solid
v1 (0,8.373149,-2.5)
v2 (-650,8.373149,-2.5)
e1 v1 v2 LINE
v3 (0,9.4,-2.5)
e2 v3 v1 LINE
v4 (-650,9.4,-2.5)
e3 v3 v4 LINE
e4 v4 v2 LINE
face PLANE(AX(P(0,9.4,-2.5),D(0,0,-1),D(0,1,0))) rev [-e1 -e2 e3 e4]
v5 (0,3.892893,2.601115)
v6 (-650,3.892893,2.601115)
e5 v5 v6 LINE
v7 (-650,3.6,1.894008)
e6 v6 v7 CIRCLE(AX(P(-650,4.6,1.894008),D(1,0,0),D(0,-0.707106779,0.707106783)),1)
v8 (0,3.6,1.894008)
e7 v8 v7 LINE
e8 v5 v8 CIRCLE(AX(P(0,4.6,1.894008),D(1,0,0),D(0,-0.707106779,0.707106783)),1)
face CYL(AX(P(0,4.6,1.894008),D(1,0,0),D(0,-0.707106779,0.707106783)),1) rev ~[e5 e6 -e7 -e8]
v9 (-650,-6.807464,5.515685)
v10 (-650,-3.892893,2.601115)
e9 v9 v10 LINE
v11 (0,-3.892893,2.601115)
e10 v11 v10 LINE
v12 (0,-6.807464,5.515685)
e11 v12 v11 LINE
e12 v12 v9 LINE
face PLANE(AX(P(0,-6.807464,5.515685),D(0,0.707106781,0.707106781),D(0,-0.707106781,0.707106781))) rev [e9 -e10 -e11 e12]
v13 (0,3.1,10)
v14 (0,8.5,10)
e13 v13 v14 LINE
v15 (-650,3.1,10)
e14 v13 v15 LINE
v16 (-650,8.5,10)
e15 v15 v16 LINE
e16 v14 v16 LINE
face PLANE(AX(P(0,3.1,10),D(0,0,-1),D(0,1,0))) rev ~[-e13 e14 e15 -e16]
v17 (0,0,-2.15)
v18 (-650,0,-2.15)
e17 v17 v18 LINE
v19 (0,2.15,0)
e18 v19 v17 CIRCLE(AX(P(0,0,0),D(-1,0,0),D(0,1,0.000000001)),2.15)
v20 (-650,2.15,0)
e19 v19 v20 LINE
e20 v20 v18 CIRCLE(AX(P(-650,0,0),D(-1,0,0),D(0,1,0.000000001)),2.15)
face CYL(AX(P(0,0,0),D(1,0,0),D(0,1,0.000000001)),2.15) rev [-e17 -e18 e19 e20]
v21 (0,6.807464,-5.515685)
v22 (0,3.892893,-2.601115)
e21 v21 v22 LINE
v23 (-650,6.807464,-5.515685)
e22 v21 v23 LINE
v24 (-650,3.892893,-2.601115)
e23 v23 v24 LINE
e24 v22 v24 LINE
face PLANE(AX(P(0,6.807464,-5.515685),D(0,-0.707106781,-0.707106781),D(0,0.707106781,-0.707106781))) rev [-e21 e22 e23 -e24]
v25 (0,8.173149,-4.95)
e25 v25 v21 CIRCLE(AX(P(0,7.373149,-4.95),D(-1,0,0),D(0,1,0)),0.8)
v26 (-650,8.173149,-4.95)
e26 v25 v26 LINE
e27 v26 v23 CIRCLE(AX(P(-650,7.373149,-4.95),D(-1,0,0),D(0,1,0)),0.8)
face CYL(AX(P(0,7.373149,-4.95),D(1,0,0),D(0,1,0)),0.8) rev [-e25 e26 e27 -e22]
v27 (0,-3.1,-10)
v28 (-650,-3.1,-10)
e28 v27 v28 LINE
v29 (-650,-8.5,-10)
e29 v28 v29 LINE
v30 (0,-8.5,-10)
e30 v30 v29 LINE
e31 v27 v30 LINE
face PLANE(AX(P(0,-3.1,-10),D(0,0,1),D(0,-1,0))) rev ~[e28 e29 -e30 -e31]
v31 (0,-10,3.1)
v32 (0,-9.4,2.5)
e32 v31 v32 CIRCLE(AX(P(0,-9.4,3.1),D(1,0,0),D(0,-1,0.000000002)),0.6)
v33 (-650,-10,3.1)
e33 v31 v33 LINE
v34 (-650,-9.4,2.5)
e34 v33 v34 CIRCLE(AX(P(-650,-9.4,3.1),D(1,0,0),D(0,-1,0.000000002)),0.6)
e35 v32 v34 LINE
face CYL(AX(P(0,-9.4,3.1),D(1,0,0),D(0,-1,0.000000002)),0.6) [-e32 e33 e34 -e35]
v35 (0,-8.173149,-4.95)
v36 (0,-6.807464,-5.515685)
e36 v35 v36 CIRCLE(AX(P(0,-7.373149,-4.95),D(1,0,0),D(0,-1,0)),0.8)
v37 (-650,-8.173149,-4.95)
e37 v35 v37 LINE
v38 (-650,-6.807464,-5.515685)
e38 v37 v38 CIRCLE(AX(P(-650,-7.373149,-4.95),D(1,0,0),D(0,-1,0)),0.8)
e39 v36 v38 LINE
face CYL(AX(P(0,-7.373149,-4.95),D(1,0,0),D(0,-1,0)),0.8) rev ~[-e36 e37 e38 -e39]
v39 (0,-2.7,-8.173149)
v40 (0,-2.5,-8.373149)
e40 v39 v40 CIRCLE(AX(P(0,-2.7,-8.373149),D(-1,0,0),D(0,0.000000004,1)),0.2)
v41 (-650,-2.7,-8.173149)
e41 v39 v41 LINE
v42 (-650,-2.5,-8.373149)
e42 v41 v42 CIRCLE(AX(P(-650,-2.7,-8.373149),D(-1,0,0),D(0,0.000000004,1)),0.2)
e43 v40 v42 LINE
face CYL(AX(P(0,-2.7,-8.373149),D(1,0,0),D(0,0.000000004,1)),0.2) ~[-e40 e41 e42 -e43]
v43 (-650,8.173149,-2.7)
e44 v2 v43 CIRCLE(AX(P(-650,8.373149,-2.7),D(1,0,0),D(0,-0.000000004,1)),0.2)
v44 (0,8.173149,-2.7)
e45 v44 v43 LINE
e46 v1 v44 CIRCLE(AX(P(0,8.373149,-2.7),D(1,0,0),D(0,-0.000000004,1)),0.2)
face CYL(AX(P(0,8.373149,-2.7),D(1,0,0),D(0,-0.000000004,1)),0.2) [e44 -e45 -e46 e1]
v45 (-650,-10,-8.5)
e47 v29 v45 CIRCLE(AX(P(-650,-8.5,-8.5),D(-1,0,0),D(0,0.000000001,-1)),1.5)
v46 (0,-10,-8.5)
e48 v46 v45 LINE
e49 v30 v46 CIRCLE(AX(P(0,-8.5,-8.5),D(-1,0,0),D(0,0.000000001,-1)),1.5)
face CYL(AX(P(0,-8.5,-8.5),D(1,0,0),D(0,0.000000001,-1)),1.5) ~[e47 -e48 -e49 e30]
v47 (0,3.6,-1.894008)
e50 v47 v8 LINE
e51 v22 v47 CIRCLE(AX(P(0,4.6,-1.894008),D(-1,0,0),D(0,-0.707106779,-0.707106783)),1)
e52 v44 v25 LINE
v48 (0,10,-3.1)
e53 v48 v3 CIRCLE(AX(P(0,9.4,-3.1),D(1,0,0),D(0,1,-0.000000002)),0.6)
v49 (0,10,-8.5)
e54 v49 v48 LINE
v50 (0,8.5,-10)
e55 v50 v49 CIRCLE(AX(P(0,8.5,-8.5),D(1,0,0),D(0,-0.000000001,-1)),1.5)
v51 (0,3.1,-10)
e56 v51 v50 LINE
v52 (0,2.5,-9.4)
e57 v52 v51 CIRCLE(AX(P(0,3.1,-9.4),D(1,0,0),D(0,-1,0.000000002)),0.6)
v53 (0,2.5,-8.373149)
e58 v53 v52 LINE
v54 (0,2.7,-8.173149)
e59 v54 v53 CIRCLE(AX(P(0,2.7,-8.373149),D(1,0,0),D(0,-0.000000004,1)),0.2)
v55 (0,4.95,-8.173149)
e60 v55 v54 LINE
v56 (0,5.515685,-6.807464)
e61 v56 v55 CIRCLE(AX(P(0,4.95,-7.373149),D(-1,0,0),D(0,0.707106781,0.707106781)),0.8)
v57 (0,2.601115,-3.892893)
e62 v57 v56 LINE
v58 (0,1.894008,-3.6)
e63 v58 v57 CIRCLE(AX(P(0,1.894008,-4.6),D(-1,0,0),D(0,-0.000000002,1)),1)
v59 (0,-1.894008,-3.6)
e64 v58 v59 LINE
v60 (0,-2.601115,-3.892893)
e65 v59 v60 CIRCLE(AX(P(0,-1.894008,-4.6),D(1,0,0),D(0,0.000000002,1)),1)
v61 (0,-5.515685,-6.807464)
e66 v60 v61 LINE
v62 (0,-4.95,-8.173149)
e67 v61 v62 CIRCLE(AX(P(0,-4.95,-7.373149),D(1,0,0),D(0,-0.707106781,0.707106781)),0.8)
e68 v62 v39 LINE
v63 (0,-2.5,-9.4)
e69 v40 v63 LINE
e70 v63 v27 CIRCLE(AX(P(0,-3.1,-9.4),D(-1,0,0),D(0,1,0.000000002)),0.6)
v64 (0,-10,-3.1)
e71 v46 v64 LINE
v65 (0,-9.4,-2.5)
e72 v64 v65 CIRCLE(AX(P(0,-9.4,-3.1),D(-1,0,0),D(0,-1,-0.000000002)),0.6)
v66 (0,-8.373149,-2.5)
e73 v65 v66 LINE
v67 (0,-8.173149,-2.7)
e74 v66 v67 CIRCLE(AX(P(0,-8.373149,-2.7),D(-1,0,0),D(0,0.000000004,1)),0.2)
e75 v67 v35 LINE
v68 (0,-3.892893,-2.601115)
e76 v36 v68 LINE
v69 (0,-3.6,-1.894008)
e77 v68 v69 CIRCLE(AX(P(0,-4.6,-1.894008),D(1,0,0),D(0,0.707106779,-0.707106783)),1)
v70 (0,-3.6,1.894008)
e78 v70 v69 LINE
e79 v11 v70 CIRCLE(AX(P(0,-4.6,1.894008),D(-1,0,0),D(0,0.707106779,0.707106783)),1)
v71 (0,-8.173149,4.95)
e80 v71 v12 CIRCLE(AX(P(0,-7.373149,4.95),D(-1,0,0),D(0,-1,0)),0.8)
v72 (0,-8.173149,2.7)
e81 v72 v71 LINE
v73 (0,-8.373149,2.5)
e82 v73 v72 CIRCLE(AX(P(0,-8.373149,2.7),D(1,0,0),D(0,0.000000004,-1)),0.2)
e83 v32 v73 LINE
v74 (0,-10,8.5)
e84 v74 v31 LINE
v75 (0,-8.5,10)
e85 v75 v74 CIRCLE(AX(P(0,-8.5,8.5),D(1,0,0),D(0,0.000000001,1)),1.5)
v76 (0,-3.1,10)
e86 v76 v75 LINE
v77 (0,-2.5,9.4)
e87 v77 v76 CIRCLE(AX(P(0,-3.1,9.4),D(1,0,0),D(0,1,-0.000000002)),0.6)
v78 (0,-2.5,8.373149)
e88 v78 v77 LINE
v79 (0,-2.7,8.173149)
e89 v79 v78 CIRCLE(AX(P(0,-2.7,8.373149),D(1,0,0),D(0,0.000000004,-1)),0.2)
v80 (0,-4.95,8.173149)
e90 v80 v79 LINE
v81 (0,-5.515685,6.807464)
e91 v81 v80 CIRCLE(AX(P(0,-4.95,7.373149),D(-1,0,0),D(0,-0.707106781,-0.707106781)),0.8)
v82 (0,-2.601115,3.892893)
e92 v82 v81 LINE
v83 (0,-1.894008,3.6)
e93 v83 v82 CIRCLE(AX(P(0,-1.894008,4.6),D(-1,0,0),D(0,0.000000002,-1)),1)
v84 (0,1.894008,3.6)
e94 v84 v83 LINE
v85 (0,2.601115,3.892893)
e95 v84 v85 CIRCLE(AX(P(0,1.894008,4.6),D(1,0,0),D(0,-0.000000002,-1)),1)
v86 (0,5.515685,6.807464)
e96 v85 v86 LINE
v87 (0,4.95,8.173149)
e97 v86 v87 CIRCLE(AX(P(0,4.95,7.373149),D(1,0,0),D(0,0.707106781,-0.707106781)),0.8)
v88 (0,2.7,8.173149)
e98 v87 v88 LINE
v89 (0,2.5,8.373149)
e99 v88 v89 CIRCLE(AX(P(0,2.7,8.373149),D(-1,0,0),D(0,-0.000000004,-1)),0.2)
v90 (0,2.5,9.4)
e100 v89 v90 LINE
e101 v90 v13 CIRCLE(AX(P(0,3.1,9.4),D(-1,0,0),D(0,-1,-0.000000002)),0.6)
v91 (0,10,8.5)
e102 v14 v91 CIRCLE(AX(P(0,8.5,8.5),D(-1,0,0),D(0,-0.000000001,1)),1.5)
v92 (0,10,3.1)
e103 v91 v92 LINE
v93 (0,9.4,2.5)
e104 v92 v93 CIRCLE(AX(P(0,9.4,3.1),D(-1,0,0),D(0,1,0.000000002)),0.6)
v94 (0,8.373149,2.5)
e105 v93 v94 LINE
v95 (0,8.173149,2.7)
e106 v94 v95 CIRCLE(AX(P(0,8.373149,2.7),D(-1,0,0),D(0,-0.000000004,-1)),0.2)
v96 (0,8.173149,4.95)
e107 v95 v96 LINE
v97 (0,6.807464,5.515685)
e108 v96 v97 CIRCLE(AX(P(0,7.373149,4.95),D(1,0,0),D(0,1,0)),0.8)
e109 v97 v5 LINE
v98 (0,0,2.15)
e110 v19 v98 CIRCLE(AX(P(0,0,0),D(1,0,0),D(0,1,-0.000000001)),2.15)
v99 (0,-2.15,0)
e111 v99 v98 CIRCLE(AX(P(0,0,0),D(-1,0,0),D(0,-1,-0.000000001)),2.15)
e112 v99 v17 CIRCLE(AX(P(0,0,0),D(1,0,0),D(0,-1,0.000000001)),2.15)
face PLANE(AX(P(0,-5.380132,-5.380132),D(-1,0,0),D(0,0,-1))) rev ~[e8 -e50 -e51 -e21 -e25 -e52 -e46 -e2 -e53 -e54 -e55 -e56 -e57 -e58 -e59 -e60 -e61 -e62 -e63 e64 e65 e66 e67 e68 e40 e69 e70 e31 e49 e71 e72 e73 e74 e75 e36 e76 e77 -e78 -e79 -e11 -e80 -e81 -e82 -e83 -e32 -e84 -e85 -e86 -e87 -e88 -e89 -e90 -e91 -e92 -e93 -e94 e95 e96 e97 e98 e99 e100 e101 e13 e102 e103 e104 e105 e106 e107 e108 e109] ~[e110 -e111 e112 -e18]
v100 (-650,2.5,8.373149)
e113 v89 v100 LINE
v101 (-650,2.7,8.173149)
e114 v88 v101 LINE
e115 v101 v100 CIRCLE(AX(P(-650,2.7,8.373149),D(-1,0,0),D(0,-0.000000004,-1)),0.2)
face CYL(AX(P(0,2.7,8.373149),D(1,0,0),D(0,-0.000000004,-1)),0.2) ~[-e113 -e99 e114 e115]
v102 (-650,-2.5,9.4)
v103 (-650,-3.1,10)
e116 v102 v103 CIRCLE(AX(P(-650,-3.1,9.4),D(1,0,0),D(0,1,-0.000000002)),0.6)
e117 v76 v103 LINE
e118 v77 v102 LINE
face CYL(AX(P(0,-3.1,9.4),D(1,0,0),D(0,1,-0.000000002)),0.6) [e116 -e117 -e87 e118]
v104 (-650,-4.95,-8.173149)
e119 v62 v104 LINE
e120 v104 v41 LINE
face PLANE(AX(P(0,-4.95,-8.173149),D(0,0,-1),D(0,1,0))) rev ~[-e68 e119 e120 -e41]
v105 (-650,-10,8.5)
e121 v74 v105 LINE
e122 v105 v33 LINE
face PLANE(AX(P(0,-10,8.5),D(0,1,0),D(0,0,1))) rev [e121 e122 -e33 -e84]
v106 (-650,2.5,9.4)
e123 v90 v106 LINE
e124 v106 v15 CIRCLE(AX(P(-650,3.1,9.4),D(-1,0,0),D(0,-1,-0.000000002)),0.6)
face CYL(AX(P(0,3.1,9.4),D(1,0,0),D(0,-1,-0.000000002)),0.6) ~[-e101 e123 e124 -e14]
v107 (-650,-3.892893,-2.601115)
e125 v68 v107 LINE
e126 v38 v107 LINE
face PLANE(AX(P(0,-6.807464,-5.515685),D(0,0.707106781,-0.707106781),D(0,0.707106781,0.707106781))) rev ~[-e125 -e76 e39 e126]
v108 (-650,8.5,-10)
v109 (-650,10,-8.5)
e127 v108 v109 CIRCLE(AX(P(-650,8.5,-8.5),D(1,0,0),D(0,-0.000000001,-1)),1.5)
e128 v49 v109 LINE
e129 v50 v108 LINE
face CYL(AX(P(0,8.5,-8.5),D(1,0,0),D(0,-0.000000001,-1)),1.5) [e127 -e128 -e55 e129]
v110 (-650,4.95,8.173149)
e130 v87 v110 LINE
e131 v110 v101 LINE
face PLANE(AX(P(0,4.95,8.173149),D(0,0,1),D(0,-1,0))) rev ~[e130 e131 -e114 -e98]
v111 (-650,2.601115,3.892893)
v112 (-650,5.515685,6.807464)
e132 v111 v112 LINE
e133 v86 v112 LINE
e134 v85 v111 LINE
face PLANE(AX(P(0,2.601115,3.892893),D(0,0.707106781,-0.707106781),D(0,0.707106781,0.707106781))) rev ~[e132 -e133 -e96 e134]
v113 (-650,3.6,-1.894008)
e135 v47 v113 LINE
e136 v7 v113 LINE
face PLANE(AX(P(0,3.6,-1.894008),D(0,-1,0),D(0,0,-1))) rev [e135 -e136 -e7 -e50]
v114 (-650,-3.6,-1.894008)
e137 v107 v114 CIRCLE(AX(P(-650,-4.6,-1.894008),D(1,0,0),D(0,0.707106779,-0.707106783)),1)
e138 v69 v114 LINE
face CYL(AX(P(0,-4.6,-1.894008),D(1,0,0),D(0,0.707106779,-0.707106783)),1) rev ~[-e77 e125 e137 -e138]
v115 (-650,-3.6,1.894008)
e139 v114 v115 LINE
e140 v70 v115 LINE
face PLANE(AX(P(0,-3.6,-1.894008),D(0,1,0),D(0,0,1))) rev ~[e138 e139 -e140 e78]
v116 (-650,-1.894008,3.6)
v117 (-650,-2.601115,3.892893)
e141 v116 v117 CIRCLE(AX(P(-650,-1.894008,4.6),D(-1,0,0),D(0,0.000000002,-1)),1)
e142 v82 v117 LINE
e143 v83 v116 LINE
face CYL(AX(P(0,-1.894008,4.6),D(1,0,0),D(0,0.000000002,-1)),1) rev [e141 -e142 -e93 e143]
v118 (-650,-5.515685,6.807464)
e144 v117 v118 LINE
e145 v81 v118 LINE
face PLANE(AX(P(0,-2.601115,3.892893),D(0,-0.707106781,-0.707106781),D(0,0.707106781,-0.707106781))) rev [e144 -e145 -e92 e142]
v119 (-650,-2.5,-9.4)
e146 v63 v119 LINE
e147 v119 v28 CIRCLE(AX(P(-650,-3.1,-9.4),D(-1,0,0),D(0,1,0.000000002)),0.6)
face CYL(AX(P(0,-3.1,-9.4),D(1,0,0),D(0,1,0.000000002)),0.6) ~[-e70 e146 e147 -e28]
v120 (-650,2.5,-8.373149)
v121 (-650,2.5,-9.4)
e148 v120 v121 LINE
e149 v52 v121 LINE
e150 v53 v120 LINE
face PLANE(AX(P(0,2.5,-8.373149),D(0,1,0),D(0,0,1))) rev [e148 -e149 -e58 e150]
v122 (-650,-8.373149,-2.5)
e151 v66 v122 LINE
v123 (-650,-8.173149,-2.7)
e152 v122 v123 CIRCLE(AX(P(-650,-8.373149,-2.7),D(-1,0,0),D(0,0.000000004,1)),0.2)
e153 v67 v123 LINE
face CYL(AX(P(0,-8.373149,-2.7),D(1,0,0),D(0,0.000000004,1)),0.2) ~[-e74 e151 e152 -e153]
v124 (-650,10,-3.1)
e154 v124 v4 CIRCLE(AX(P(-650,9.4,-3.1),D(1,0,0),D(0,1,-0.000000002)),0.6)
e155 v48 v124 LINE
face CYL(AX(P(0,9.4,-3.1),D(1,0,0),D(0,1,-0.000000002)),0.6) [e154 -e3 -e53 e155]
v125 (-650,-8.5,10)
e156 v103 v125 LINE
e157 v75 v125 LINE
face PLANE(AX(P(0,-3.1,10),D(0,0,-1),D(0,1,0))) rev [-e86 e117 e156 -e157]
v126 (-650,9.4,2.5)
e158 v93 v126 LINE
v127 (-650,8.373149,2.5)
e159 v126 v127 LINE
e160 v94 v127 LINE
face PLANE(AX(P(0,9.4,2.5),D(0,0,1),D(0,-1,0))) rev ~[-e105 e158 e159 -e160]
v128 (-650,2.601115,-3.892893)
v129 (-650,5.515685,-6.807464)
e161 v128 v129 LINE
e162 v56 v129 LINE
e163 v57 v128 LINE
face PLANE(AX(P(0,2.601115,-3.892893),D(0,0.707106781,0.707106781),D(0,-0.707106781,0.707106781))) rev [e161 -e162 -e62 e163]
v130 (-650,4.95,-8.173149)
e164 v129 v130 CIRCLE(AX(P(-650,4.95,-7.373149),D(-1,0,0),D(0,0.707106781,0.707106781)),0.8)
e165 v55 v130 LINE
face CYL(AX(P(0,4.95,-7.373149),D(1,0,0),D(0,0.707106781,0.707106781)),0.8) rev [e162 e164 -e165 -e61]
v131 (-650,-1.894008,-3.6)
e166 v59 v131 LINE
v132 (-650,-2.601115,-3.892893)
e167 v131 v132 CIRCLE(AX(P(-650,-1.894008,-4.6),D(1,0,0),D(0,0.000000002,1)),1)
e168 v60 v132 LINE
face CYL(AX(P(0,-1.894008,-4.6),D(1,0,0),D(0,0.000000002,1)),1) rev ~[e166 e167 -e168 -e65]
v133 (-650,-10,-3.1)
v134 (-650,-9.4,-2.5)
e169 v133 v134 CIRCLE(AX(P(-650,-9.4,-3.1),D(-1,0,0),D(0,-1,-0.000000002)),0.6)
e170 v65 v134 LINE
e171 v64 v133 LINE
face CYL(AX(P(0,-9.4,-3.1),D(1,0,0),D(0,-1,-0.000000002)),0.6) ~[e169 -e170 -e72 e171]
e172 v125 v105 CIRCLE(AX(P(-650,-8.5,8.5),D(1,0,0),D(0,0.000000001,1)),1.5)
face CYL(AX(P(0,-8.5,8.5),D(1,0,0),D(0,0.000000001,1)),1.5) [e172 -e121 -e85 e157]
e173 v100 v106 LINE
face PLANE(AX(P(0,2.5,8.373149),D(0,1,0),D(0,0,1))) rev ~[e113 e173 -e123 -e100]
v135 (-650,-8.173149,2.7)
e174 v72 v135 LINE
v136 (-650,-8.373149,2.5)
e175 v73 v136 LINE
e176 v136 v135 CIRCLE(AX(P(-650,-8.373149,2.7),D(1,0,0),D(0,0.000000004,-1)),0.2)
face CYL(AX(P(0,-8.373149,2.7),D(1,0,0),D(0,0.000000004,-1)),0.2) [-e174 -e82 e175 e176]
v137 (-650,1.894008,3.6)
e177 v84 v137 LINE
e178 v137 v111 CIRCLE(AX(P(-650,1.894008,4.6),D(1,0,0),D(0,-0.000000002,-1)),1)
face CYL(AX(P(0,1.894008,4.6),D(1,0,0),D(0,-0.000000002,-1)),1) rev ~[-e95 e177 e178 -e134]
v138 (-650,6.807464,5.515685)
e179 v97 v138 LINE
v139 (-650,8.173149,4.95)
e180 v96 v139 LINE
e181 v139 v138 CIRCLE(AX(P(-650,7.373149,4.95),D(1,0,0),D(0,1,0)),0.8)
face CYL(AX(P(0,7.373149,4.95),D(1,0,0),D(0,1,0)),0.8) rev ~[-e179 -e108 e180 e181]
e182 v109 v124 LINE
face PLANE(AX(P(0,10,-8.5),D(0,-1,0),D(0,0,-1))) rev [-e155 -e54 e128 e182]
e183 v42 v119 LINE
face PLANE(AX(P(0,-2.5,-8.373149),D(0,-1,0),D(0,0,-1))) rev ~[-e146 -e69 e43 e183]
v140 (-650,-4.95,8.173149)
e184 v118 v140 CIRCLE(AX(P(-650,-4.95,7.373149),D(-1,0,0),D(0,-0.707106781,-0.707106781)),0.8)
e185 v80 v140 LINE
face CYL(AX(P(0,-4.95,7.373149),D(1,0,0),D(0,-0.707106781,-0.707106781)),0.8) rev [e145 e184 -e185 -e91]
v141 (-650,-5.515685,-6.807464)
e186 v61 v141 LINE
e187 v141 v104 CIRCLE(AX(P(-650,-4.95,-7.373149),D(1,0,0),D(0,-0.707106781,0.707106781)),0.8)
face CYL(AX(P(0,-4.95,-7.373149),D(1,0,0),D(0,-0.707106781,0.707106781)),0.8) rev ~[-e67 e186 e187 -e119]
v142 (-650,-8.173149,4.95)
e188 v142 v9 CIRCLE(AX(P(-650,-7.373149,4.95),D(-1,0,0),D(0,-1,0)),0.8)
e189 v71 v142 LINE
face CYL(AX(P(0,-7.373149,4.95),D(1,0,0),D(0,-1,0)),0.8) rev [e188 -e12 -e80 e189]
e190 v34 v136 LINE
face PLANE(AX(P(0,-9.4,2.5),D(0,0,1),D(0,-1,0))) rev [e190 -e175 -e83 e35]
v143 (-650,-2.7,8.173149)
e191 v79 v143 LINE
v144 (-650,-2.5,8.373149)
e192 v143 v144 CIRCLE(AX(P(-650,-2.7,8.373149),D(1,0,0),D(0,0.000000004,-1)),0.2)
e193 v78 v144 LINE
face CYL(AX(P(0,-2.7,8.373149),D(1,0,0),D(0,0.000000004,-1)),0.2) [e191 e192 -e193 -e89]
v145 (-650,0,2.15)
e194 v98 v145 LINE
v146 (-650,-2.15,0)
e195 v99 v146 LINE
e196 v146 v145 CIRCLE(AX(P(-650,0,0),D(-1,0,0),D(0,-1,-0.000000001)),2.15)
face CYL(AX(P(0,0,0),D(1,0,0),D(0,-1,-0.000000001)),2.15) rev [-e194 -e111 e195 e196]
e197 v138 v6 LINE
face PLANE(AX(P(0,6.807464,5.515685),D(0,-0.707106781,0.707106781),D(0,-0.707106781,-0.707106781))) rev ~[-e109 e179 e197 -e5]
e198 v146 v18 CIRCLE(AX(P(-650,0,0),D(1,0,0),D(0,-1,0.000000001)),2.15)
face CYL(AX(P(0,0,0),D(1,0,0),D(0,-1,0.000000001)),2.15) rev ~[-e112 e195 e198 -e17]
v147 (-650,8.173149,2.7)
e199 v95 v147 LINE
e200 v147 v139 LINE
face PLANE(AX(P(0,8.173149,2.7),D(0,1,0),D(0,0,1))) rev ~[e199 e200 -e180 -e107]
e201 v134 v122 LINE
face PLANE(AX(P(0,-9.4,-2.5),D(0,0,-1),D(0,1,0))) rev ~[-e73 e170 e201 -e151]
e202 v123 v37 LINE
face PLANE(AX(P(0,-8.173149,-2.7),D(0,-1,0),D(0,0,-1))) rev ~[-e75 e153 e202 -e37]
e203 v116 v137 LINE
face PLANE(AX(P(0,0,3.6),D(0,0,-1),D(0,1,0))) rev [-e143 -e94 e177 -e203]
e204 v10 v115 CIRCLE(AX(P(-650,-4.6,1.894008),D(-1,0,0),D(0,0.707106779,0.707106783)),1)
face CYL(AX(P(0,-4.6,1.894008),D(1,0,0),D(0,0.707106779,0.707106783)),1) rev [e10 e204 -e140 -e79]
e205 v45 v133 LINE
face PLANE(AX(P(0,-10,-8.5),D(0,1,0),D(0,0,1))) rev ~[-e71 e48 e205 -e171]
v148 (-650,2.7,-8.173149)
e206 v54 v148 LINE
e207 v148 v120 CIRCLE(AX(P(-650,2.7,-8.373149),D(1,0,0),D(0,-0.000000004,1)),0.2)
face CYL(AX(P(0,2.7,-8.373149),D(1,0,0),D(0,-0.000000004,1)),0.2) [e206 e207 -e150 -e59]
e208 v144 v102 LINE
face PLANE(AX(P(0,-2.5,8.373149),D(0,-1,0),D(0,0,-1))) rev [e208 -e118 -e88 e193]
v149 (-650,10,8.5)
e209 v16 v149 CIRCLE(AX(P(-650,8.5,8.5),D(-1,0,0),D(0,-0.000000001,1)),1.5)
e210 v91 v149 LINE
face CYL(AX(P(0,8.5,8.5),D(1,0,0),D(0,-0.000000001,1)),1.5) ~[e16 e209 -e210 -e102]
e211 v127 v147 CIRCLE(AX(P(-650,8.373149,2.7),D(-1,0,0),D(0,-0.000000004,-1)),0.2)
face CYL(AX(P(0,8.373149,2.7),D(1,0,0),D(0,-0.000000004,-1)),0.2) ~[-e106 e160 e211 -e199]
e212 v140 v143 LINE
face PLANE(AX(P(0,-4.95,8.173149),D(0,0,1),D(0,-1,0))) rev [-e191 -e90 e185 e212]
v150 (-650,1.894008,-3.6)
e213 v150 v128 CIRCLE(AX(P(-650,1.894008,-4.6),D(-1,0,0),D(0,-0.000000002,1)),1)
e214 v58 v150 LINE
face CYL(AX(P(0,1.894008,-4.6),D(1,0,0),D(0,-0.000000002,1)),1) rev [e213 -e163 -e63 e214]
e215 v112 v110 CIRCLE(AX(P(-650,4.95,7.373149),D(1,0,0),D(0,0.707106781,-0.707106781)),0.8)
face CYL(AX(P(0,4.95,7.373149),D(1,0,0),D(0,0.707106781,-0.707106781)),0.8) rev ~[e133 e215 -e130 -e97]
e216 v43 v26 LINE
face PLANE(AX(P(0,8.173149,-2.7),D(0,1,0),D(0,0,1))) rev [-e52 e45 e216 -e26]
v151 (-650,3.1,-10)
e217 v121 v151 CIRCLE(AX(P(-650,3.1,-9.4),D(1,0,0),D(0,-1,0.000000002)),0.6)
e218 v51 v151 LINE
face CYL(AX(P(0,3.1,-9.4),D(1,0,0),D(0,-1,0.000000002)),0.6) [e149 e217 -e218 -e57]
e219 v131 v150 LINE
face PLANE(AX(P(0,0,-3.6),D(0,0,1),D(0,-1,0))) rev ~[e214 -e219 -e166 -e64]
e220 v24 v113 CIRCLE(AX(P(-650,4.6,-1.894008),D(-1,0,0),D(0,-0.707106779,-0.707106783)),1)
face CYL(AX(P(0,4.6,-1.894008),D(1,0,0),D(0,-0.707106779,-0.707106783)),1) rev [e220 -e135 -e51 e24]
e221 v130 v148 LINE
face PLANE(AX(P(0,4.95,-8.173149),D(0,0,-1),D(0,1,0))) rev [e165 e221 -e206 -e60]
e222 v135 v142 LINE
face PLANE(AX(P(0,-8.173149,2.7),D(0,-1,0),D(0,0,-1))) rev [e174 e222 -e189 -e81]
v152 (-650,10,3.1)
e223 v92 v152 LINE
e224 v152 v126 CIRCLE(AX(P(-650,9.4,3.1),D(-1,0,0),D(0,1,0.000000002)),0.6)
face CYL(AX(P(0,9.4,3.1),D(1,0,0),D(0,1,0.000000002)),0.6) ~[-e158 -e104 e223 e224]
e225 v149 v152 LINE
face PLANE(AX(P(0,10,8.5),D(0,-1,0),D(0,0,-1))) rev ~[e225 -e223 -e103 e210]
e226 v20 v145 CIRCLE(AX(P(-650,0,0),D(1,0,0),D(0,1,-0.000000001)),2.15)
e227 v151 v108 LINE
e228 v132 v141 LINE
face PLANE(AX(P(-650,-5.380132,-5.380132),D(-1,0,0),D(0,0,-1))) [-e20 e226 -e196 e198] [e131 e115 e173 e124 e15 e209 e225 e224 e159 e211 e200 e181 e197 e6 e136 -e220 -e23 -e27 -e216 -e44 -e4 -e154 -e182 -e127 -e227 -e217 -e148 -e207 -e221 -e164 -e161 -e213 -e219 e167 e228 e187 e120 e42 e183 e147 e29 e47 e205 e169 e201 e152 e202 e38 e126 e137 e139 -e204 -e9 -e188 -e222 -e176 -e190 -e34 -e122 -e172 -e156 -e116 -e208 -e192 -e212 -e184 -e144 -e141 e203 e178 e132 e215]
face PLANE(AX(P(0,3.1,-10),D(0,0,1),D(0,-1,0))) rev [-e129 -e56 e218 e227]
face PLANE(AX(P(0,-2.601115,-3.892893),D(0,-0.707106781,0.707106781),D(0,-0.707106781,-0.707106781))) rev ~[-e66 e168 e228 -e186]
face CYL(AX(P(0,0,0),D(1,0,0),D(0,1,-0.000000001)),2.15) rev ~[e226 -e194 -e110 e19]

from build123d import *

# Parameters (mm, degrees)
BOSS_EXTRUDE1_DEPTH = 650


with BuildPart() as part:
    # Sketch3 → Boss-Extrude1 (new body)
    with BuildSketch(Plane(origin=(0, 0, 0), x_dir=(0, 0, -1), z_dir=(1, 0, 0))):
        with BuildLine():
            Line((-5.515685425, 6.807463915), (-2.601114729, 3.892893219))
            ThreePointArc((-2.601114729, 3.892893219), (-2.27669138, 3.676120467), (-1.894007948, 3.6))
            Line((-1.894007948, 3.6), (0, 3.6))
            Line((0, 3.6), (0, 2.15))
            ThreePointArc((0, 2.15), (-1.52027958, 1.52027958), (-2.15, 0))
            Line((-2.15, 0), (-3.6, 0))
            Line((-3.6, 0), (-3.6, 1.894007948))
            ThreePointArc((-3.6, 1.894007948), (-3.676120467, 2.27669138), (-3.892893219, 2.601114729))
            Line((-3.892893219, 2.601114729), (-6.807463915, 5.515685425))
            ThreePointArc((-6.807463915, 5.515685425), (-7.679296086, 5.689103626), (-8.17314934, 4.95))
            Line((-8.17314934, 4.95), (-8.17314934, 2.7))
            ThreePointArc((-8.17314934, 2.7), (-8.231727984, 2.558578644), (-8.37314934, 2.5))
            Line((-8.37314934, 2.5), (-9.4, 2.5))
            ThreePointArc((-9.4, 2.5), (-9.824264069, 2.675735931), (-10, 3.1))
            Line((-10, 3.1), (-10, 8.5))
            ThreePointArc((-10, 8.5), (-9.560660172, 9.560660172), (-8.5, 10))
            Line((-8.5, 10), (-3.1, 10))
            ThreePointArc((-3.1, 10), (-2.675735931, 9.824264069), (-2.5, 9.4))
            Line((-2.5, 9.4), (-2.5, 8.37314934))
            ThreePointArc((-2.5, 8.37314934), (-2.558578644, 8.231727984), (-2.7, 8.17314934))
            Line((-2.7, 8.17314934), (-4.95, 8.17314934))
            ThreePointArc((-4.95, 8.17314934), (-5.689103626, 7.679296086), (-5.515685425, 6.807463915))
        make_face()
    extrude(amount=-BOSS_EXTRUDE1_DEPTH)

    # Mirror1: part across plane


with BuildPart() as part_1:
    add(part.part)
    add(part.part.mirror(Plane.ZX))

    # Mirror2: part across plane


with BuildPart() as part_2:
    add(part_1.part)
    add(part_1.part.mirror(Plane.XY))


solid = part_2.part
